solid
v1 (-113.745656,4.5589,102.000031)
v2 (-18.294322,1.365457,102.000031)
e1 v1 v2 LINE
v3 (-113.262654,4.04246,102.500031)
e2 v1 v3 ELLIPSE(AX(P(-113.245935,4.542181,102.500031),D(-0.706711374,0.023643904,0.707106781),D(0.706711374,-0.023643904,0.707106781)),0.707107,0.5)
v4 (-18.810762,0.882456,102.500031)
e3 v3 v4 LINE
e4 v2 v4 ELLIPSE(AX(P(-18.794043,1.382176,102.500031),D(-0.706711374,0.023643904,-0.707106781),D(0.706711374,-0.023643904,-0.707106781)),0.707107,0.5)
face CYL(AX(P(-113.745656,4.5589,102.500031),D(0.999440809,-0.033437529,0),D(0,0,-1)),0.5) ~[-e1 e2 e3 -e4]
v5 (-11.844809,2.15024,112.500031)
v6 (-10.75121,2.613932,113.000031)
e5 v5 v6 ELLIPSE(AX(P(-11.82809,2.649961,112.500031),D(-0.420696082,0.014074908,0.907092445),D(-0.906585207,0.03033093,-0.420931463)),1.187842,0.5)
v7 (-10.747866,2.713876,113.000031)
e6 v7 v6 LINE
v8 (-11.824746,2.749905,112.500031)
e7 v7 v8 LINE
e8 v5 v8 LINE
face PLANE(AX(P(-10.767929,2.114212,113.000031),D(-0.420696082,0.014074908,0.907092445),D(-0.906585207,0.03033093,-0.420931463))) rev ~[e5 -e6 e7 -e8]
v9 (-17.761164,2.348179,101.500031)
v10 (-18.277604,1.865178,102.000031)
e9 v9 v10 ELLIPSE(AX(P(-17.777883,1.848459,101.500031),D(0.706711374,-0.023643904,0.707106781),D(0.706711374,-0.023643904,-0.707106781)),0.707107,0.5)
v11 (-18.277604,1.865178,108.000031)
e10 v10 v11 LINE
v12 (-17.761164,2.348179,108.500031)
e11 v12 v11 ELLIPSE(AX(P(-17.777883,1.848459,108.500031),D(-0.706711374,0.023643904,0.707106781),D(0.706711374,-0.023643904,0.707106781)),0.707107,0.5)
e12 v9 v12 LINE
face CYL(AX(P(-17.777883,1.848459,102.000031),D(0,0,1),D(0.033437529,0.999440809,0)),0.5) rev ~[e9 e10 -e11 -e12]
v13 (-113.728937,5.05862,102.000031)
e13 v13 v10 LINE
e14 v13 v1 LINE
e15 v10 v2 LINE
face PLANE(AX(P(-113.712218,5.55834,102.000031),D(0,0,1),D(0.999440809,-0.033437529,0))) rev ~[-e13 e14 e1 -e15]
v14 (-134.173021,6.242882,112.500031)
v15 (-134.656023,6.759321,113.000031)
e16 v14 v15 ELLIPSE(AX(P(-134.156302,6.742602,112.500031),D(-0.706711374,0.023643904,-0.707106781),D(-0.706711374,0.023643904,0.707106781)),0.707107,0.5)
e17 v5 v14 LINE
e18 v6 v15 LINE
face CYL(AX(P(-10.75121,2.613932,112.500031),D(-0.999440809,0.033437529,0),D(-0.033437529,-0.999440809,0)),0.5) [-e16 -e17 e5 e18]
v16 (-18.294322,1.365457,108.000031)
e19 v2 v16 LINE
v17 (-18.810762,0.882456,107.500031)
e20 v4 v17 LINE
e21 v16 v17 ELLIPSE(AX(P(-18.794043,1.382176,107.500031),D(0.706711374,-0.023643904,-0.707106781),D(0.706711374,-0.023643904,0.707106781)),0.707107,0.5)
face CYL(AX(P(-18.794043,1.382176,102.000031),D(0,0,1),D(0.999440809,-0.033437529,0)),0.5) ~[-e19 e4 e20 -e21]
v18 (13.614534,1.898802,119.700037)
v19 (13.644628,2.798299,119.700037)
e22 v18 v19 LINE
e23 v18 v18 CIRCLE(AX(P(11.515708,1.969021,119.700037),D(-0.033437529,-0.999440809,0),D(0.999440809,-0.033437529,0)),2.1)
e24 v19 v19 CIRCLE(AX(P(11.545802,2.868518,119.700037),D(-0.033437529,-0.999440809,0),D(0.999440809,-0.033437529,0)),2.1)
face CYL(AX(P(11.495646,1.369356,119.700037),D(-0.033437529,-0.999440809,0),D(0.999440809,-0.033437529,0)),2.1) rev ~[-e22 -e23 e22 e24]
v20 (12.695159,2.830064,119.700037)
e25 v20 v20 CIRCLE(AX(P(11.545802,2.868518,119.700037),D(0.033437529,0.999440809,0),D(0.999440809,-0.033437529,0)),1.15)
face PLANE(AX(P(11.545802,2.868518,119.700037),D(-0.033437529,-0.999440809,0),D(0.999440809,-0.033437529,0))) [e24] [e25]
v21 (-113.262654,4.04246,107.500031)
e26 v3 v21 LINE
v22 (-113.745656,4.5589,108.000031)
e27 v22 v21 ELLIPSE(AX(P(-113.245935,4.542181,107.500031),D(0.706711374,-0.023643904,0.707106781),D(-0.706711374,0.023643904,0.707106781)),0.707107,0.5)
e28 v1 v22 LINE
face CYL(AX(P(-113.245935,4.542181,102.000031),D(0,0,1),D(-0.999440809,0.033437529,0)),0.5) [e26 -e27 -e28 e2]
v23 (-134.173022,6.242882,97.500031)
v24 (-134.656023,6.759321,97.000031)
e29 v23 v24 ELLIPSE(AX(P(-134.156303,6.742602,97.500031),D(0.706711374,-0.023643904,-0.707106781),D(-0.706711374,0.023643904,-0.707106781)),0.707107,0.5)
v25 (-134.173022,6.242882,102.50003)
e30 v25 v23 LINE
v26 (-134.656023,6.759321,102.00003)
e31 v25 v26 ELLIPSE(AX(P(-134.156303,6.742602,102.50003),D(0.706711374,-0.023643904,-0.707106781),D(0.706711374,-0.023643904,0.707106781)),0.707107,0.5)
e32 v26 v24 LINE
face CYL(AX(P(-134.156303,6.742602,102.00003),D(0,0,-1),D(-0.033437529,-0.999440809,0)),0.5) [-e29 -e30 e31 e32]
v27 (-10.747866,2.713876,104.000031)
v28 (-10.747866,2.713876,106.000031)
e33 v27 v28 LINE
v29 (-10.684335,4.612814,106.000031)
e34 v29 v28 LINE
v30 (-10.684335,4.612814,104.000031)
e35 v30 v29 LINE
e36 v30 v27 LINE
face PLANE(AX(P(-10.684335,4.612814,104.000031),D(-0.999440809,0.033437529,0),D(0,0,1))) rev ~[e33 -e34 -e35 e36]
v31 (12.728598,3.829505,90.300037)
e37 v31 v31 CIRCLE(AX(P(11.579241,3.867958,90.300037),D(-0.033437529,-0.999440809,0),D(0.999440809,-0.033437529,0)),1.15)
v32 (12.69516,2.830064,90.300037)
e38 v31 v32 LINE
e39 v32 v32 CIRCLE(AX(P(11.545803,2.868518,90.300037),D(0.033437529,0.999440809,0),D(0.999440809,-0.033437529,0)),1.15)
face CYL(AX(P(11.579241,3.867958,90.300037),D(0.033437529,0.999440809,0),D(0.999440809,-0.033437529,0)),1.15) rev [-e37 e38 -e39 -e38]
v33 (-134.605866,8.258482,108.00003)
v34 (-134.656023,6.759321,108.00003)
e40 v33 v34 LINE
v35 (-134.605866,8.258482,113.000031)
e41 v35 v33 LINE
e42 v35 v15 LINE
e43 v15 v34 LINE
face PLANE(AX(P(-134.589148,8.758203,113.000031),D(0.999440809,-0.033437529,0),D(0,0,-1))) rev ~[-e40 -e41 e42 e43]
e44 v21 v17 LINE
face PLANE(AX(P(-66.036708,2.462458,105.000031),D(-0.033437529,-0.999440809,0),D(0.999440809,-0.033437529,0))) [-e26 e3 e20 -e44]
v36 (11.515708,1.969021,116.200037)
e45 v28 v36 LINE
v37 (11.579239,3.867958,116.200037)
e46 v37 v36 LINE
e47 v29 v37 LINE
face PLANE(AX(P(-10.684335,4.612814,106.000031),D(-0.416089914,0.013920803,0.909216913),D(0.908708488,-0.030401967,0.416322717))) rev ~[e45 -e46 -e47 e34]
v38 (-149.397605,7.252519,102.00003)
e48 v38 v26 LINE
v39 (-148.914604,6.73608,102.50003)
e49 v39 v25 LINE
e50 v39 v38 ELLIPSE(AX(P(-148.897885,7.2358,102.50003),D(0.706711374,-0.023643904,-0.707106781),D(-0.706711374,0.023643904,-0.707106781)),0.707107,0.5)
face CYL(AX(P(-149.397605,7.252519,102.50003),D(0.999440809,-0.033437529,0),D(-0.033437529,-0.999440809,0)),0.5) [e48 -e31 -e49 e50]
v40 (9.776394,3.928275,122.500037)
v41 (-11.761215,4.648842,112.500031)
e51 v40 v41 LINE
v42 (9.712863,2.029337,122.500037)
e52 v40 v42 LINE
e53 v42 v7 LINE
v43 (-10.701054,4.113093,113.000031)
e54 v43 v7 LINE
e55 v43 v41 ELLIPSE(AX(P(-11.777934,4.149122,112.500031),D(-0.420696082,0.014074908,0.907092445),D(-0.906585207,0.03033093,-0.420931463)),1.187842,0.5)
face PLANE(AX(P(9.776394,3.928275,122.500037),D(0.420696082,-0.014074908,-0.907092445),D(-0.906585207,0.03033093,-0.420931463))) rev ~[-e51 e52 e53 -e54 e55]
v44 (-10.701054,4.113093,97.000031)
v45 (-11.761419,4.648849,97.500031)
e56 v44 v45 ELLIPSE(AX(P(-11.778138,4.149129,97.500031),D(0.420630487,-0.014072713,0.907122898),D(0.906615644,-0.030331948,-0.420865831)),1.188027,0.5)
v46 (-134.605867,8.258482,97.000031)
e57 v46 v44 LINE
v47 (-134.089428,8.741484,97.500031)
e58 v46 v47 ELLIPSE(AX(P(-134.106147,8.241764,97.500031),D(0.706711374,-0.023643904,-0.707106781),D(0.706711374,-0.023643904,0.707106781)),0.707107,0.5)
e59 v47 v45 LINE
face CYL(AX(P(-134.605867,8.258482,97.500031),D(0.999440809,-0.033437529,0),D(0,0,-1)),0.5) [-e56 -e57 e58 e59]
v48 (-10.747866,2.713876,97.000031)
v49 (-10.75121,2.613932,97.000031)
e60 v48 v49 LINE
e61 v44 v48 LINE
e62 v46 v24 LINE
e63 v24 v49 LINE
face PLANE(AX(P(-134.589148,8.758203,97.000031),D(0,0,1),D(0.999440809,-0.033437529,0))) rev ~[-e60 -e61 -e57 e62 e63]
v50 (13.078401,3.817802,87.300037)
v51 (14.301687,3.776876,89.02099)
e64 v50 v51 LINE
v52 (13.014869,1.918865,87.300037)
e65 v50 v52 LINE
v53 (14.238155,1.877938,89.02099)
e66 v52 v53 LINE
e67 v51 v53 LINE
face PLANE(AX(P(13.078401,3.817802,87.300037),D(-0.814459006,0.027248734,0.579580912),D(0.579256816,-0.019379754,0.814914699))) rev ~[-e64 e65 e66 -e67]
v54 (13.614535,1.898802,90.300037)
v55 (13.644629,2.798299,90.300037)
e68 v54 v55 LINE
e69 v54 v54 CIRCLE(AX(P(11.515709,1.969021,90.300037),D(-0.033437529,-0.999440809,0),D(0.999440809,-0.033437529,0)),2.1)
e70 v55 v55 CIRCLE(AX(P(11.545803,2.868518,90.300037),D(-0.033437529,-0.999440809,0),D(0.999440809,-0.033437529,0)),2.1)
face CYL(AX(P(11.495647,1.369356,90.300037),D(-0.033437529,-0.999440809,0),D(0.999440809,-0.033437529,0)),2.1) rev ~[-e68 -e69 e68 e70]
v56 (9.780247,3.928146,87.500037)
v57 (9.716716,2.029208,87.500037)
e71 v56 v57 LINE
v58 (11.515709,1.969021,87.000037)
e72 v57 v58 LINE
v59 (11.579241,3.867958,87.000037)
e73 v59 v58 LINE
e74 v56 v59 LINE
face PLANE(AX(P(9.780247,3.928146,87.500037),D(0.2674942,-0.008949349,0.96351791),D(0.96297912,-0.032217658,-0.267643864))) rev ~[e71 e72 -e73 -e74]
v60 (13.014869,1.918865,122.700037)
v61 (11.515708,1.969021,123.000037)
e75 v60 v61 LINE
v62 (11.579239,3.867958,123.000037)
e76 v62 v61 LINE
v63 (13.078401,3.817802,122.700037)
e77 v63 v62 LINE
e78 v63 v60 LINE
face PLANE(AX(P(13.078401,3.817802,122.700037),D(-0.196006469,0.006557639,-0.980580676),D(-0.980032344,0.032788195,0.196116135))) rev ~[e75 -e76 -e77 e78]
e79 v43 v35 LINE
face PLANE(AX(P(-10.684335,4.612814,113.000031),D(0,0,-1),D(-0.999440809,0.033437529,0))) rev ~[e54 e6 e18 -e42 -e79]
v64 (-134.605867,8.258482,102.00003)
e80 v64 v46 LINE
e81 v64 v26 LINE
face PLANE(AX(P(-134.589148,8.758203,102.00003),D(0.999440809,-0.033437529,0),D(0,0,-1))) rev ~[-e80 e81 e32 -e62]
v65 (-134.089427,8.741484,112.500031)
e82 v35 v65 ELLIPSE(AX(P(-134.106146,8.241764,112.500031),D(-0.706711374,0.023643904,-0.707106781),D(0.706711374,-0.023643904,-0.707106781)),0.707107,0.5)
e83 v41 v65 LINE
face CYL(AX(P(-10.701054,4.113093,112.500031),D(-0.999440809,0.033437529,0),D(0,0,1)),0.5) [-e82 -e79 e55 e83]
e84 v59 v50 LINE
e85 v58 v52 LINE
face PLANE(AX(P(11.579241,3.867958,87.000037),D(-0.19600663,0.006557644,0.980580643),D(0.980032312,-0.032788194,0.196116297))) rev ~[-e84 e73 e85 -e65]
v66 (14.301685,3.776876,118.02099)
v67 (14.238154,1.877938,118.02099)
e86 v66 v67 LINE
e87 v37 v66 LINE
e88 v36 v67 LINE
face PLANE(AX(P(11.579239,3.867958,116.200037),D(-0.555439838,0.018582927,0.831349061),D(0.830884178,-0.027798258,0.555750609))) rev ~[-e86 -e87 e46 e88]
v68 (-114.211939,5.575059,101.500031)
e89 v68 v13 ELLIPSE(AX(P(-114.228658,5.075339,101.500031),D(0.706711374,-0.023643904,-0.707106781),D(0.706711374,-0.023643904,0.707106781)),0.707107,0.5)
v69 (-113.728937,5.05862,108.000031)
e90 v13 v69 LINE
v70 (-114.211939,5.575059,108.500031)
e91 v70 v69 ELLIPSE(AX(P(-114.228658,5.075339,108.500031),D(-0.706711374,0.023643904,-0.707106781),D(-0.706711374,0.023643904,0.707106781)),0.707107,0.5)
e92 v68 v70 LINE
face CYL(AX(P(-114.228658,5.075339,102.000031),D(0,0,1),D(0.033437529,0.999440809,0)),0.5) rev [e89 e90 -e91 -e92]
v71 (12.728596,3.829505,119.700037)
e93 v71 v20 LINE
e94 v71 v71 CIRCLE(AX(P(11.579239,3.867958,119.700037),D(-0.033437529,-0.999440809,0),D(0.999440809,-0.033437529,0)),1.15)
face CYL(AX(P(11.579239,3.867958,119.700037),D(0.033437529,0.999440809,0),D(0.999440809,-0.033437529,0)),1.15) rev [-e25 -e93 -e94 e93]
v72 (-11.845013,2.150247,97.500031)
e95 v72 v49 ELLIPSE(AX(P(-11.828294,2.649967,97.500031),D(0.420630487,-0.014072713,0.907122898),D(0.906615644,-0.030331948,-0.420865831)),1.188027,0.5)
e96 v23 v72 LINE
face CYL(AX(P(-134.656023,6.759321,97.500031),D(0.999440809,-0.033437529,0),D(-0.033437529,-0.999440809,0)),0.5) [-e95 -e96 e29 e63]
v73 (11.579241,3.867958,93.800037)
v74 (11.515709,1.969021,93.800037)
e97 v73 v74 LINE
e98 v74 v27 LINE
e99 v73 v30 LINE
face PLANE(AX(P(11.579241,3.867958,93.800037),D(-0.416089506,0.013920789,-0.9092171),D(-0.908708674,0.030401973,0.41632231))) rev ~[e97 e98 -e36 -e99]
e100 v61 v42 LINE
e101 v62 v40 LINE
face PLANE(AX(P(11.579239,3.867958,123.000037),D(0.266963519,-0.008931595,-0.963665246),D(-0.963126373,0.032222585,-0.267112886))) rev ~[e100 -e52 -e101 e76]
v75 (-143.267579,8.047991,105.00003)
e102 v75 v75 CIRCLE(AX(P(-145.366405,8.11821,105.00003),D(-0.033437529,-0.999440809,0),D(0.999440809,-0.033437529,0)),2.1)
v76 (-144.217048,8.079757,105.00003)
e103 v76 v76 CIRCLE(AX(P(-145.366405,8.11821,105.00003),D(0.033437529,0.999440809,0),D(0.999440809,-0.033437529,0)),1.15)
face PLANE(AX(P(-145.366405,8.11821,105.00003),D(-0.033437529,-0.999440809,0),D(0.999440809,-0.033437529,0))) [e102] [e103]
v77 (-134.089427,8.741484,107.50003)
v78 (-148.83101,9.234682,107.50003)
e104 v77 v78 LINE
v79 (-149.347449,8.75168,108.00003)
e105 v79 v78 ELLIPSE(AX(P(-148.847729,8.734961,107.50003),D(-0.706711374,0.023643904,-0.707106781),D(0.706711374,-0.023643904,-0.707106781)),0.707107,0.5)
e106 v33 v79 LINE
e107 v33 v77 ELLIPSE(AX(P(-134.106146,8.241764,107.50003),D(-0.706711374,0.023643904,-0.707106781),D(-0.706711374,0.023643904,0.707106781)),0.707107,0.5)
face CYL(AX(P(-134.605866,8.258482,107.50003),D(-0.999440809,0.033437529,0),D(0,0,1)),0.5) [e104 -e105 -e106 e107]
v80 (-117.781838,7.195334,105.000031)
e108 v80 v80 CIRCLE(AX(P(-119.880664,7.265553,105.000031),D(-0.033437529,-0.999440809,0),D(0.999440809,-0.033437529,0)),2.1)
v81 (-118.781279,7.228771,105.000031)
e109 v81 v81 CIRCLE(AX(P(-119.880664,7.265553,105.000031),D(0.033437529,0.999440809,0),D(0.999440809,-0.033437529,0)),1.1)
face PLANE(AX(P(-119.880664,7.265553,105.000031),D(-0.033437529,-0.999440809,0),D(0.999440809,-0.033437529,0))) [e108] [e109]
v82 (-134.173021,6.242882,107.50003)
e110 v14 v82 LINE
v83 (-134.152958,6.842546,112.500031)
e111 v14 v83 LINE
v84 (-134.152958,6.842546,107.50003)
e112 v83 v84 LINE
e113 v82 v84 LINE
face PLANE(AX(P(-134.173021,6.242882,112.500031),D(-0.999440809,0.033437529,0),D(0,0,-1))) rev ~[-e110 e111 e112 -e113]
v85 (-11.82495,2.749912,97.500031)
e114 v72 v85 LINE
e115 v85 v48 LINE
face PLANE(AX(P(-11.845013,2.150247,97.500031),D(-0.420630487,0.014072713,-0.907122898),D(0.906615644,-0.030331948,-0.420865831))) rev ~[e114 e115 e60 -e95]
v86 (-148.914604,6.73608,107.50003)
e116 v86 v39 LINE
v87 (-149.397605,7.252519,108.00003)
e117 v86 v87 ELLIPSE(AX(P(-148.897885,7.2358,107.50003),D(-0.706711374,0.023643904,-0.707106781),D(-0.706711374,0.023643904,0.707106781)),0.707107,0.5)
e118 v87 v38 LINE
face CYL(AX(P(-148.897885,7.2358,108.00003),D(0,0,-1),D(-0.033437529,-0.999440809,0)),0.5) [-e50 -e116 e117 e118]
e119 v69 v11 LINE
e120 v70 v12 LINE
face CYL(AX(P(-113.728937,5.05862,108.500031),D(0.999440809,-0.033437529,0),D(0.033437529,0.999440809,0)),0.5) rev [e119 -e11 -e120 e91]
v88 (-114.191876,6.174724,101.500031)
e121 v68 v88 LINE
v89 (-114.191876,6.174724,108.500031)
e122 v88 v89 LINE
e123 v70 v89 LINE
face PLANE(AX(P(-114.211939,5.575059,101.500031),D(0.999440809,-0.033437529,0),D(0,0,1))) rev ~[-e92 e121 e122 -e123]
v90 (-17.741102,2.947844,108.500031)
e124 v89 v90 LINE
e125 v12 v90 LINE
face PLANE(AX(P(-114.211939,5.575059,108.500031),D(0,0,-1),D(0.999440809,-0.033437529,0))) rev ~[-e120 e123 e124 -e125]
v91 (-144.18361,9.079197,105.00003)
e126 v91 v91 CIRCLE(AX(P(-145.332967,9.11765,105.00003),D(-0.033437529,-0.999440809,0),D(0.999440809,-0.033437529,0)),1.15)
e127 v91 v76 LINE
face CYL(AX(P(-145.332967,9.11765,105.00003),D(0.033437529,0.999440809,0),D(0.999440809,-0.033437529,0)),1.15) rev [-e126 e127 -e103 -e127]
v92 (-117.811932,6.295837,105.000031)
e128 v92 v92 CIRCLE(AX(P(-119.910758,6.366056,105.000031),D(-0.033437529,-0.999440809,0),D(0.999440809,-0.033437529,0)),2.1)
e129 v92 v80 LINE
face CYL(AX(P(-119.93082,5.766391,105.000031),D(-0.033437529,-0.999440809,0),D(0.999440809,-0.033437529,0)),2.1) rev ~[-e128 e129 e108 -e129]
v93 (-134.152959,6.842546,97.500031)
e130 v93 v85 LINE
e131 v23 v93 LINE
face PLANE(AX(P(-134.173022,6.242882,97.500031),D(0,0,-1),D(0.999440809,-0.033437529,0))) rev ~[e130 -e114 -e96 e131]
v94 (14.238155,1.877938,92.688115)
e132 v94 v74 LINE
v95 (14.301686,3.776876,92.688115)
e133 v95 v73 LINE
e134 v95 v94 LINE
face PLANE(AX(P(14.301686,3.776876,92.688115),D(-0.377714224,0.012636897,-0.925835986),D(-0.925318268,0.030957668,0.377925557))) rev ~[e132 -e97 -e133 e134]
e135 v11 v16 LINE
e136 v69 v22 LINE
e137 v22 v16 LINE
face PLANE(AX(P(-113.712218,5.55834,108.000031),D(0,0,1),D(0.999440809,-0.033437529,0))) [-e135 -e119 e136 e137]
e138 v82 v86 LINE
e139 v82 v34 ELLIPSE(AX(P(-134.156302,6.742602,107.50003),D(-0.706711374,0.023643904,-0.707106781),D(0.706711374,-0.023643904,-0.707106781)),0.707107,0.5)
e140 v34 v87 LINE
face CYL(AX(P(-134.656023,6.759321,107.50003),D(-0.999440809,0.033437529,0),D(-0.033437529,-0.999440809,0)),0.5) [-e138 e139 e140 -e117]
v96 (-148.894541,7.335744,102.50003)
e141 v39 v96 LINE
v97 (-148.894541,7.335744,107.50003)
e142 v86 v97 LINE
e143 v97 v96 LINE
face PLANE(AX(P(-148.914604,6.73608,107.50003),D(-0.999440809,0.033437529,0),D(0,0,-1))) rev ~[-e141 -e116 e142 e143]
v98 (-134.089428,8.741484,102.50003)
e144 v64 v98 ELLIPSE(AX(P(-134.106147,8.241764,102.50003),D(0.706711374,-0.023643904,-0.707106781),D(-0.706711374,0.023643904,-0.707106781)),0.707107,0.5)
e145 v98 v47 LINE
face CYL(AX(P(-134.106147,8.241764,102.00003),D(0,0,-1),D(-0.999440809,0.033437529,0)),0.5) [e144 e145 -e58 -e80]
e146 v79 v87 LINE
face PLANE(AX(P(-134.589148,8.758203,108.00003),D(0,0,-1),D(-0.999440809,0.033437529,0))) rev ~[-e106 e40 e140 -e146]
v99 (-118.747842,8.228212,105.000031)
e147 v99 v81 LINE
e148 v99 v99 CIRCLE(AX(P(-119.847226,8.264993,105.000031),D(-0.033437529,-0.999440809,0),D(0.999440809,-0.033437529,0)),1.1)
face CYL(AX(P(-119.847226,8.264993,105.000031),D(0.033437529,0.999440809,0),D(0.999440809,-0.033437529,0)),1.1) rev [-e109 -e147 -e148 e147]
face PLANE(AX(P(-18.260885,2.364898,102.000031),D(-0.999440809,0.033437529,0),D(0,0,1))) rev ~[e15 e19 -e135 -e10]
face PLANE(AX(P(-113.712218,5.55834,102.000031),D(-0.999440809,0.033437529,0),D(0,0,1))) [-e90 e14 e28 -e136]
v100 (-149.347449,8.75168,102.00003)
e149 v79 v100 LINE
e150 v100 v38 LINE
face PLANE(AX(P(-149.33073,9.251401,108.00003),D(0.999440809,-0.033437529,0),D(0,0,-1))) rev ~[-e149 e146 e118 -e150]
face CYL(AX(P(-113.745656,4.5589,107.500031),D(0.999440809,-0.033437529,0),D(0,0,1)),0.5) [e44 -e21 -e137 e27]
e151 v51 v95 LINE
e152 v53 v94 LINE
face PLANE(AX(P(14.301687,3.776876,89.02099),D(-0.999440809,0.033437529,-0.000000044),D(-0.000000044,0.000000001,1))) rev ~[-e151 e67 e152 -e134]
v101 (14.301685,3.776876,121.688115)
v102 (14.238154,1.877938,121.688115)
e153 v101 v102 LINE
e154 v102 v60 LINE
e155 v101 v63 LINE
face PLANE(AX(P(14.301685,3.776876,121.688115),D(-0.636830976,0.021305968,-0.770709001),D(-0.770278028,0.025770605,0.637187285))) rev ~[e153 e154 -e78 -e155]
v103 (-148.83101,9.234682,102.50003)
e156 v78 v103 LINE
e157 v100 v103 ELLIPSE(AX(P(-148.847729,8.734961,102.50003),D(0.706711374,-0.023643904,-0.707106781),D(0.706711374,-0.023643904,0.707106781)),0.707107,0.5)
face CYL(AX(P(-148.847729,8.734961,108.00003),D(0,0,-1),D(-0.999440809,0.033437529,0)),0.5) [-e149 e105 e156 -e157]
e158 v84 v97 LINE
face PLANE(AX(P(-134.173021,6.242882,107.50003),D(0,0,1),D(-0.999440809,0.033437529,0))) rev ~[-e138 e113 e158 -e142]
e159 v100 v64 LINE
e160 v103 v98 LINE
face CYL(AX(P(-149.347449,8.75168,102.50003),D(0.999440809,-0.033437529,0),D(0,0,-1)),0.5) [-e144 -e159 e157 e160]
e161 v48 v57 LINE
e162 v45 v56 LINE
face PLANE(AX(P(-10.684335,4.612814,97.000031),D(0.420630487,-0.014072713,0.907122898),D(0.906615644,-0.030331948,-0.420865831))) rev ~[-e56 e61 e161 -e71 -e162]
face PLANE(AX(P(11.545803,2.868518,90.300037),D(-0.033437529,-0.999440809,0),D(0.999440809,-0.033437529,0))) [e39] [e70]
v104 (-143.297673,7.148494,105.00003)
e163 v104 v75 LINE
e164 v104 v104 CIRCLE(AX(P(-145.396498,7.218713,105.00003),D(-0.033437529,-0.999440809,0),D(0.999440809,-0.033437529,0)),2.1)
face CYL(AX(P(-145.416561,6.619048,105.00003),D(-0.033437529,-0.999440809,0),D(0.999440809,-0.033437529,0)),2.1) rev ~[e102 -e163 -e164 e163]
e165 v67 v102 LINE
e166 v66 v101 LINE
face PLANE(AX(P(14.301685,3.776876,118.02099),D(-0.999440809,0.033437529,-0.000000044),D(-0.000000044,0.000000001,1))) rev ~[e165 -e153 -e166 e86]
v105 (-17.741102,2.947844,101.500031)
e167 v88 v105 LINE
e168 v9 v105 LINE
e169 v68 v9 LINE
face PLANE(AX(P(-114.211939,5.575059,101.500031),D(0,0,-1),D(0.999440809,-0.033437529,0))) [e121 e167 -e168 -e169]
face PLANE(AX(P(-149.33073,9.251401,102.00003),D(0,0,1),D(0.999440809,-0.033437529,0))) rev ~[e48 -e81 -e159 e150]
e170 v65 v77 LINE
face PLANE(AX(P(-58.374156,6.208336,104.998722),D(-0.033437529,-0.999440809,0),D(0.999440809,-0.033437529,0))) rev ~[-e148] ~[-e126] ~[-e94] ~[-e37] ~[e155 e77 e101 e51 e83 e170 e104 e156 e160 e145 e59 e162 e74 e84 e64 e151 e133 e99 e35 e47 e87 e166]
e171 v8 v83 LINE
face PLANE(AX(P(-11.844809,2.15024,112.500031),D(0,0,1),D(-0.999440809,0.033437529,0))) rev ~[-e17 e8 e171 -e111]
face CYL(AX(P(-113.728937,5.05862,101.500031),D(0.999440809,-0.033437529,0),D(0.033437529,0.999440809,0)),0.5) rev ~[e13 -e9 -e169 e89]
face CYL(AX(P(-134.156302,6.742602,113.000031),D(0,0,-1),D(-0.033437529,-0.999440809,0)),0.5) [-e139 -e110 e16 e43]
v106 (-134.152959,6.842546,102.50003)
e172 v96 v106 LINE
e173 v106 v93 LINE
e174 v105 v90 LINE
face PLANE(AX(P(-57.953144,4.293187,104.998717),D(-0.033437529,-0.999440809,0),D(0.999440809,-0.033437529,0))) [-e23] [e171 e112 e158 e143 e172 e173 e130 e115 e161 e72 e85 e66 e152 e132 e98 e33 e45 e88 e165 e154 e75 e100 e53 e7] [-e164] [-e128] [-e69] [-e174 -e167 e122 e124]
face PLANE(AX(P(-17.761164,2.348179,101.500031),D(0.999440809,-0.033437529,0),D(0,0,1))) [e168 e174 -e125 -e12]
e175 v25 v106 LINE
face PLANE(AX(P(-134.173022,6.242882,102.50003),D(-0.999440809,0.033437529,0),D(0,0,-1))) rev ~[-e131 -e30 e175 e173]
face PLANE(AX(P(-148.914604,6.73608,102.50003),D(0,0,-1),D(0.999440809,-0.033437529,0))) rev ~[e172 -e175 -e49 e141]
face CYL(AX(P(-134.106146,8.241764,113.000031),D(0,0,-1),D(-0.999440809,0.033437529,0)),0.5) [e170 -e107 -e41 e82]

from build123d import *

# Parameters (mm, degrees)
SKETCH1_R           = 1.15
SKETCH1_R_2         = 1.1
BOSS_EXTRUDE1_DEPTH = 2.5
SKETCH2_R           = 2.1
CUT_EXTRUDE1_DEPTH  = 1.5
SKETCH3_W           = 95.504738846
SKETCH3_H           = 6
BOSS_EXTRUDE2_DEPTH = 1.5
FILLET1_R           = 0.5
FILLET2_R           = 0.5
SKETCH4_R           = 2.1
SKETCH4_W           = 96.504738846
SKETCH4_H           = 7
CUT_EXTRUDE2_DEPTH  = 0.6


with BuildPart() as part:
    # Sketch1 → Boss-Extrude1 (new body)
    with BuildSketch(Plane(origin=(0.142209029, 4.250598455, 0), x_dir=(0.999440809, -0.033437529, 0), z_dir=(-0.033437529, -0.999440809, 0))):
        Polygon((11.443429389, 116.200036636), (14.167398509, 118.020989552), (14.167398349, 121.688114552), (12.943429389, 122.700036636), (11.443429389, 123.000036636), (9.639575481, 122.500036636), (-10.832601571, 113.00003089), (-134.806739216, 113.00003089), (-134.806739216, 108.000029776), (-149.556569968, 108.000029776), (-149.556569968, 102.000029776), (-134.806740003, 102.000029776), (-134.806740003, 97.00003089), (-10.832601571, 97.00003089), (9.643430674, 87.500036636), (11.443430674, 87.000036636), (12.943429388, 87.300036636), (14.167399777, 89.020989552), (14.167399616, 92.688114552), (11.443430674, 93.800036636), (-10.832601571, 104.00003089), (-10.832601571, 106.00003089), align=None)
        with Locations((11.443429389, 119.700036636)):
            Circle(SKETCH1_R, mode=Mode.SUBTRACT)
        with Locations((11.443430674, 90.300036636)):
            Circle(SKETCH1_R, mode=Mode.SUBTRACT)
        with Locations((-145.556569968, 105.000029776)):
            Circle(SKETCH1_R, mode=Mode.SUBTRACT)
        with Locations((-120.056569968, 105.00003089)):
            Circle(SKETCH1_R_2, mode=Mode.SUBTRACT)
    extrude(amount=BOSS_EXTRUDE1_DEPTH)

    # Sketch2 → Cut-Extrude1 (cut)
    with BuildSketch(Plane(origin=(0.058615208, 1.751996431, 0), x_dir=(0.999440809, -0.033437529, 0), z_dir=(-0.033437529, -0.999440809, 0))):
        with Locations((-145.556569968, 105.000029776)):
            Circle(SKETCH2_R)
        with Locations((-120.056569968, 105.00003089)):
            Circle(SKETCH2_R)
        with Locations((11.443429389, 119.700036636)):
            Circle(SKETCH2_R)
        with Locations((11.443430674, 90.300036636)):
            Circle(SKETCH2_R)
    extrude(amount=-CUT_EXTRUDE1_DEPTH, mode=Mode.SUBTRACT)

    # Sketch3 → Boss-Extrude2 (add)
    with BuildSketch(Plane(origin=(0.058615208, 1.751996431, 0), x_dir=(0.999440809, -0.033437529, 0), z_dir=(-0.033437529, -0.999440809, 0))):
        with Locations((-66.082119318, 105.00003089)):
            Rectangle(SKETCH3_W, SKETCH3_H)
    extrude(amount=BOSS_EXTRUDE2_DEPTH)

    # Fillet1
    fillet1_edges = [part.edges().sort_by_distance(p)[0] for p in [
        (-113.712218368, 5.558340404, 105.00003089),
        (-65.986551616, 3.961619186, 102.00003089),
        (-18.260884865, 2.364897967, 105.00003089),
        (-65.986551616, 3.961619186, 108.00003089),
        (-113.762374661, 4.05917919, 105.00003089),
        (-66.036707909, 2.462457971, 102.00003089),
        (-18.311041158, 0.865736753, 105.00003089),
        (-66.036707909, 2.462457971, 108.00003089),
    ]]
    fillet(fillet1_edges, radius=FILLET1_R)

    # Fillet2
    fillet2_edges = [part.edges().sort_by_distance(p)[0] for p in [
        (-72.636741689, 6.685508279, 97.00003089),
        (-134.589148324, 8.758202679, 99.500030333),
        (-141.959939325, 9.00480161, 102.000029776),
        (-149.330730325, 9.25140054, 105.000029776),
        (-141.959938931, 9.004801596, 108.000029776),
        (-134.589147538, 8.758202653, 110.500030333),
        (-72.636741296, 6.685508266, 113.00003089),
        (-72.720335117, 4.186906242, 113.00003089),
        (-134.672741359, 6.259600629, 110.500030333),
        (-142.043532753, 6.506199573, 108.000029776),
        (-149.414324146, 6.752798517, 105.000029776),
        (-142.043533146, 6.506199586, 102.000029776),
        (-134.672742146, 6.259600655, 99.500030333),
        (-72.72033551, 4.186906256, 97.00003089),
    ]]
    fillet(fillet2_edges, radius=FILLET2_R)

    # Sketch4 → Cut-Extrude2 (cut)
    with BuildSketch(Plane(origin=(0.058615208, 1.751996431, 0), x_dir=(0.999440809, -0.033437529, 0), z_dir=(-0.033437529, -0.999440809, 0))):
        Polygon((11.443429389, 116.200036636), (14.167398509, 118.020989552), (14.167398349, 121.688114552), (12.943429389, 122.700036636), (11.443429389, 123.000036636), (9.639575481, 122.500036636), (-10.832601571, 113.00003089), (-11.910083922, 112.50003089), (-134.306739216, 112.50003089), (-134.306739216, 107.500029776), (-149.056569968, 107.500029776), (-149.056569968, 102.500029776), (-134.306740003, 102.500029776), (-134.306740003, 97.50003089), (-11.91028813, 97.50003089), (-10.832601571, 97.00003089), (9.643430674, 87.500036636), (11.443430674, 87.000036636), (12.943429388, 87.300036636), (14.167399777, 89.020989552), (14.167399616, 92.688114552), (11.443430674, 93.800036636), (-10.832601571, 104.00003089), (-10.832601571, 106.00003089), align=None)
        with Locations((11.443430674, 90.300036636)):
            Circle(SKETCH4_R, mode=Mode.SUBTRACT)
        with Locations((-145.556569968, 105.000029776)):
            Circle(SKETCH4_R, mode=Mode.SUBTRACT)
        with Locations((-120.056569968, 105.00003089)):
            Circle(SKETCH4_R, mode=Mode.SUBTRACT)
        with Locations((-66.082119318, 105.00003089)):
            Rectangle(SKETCH4_W, SKETCH4_H, mode=Mode.SUBTRACT)
        with Locations((11.443429389, 119.700036636)):
            Circle(SKETCH4_R, mode=Mode.SUBTRACT)
    extrude(amount=-CUT_EXTRUDE2_DEPTH, mode=Mode.SUBTRACT)


solid = part.part
